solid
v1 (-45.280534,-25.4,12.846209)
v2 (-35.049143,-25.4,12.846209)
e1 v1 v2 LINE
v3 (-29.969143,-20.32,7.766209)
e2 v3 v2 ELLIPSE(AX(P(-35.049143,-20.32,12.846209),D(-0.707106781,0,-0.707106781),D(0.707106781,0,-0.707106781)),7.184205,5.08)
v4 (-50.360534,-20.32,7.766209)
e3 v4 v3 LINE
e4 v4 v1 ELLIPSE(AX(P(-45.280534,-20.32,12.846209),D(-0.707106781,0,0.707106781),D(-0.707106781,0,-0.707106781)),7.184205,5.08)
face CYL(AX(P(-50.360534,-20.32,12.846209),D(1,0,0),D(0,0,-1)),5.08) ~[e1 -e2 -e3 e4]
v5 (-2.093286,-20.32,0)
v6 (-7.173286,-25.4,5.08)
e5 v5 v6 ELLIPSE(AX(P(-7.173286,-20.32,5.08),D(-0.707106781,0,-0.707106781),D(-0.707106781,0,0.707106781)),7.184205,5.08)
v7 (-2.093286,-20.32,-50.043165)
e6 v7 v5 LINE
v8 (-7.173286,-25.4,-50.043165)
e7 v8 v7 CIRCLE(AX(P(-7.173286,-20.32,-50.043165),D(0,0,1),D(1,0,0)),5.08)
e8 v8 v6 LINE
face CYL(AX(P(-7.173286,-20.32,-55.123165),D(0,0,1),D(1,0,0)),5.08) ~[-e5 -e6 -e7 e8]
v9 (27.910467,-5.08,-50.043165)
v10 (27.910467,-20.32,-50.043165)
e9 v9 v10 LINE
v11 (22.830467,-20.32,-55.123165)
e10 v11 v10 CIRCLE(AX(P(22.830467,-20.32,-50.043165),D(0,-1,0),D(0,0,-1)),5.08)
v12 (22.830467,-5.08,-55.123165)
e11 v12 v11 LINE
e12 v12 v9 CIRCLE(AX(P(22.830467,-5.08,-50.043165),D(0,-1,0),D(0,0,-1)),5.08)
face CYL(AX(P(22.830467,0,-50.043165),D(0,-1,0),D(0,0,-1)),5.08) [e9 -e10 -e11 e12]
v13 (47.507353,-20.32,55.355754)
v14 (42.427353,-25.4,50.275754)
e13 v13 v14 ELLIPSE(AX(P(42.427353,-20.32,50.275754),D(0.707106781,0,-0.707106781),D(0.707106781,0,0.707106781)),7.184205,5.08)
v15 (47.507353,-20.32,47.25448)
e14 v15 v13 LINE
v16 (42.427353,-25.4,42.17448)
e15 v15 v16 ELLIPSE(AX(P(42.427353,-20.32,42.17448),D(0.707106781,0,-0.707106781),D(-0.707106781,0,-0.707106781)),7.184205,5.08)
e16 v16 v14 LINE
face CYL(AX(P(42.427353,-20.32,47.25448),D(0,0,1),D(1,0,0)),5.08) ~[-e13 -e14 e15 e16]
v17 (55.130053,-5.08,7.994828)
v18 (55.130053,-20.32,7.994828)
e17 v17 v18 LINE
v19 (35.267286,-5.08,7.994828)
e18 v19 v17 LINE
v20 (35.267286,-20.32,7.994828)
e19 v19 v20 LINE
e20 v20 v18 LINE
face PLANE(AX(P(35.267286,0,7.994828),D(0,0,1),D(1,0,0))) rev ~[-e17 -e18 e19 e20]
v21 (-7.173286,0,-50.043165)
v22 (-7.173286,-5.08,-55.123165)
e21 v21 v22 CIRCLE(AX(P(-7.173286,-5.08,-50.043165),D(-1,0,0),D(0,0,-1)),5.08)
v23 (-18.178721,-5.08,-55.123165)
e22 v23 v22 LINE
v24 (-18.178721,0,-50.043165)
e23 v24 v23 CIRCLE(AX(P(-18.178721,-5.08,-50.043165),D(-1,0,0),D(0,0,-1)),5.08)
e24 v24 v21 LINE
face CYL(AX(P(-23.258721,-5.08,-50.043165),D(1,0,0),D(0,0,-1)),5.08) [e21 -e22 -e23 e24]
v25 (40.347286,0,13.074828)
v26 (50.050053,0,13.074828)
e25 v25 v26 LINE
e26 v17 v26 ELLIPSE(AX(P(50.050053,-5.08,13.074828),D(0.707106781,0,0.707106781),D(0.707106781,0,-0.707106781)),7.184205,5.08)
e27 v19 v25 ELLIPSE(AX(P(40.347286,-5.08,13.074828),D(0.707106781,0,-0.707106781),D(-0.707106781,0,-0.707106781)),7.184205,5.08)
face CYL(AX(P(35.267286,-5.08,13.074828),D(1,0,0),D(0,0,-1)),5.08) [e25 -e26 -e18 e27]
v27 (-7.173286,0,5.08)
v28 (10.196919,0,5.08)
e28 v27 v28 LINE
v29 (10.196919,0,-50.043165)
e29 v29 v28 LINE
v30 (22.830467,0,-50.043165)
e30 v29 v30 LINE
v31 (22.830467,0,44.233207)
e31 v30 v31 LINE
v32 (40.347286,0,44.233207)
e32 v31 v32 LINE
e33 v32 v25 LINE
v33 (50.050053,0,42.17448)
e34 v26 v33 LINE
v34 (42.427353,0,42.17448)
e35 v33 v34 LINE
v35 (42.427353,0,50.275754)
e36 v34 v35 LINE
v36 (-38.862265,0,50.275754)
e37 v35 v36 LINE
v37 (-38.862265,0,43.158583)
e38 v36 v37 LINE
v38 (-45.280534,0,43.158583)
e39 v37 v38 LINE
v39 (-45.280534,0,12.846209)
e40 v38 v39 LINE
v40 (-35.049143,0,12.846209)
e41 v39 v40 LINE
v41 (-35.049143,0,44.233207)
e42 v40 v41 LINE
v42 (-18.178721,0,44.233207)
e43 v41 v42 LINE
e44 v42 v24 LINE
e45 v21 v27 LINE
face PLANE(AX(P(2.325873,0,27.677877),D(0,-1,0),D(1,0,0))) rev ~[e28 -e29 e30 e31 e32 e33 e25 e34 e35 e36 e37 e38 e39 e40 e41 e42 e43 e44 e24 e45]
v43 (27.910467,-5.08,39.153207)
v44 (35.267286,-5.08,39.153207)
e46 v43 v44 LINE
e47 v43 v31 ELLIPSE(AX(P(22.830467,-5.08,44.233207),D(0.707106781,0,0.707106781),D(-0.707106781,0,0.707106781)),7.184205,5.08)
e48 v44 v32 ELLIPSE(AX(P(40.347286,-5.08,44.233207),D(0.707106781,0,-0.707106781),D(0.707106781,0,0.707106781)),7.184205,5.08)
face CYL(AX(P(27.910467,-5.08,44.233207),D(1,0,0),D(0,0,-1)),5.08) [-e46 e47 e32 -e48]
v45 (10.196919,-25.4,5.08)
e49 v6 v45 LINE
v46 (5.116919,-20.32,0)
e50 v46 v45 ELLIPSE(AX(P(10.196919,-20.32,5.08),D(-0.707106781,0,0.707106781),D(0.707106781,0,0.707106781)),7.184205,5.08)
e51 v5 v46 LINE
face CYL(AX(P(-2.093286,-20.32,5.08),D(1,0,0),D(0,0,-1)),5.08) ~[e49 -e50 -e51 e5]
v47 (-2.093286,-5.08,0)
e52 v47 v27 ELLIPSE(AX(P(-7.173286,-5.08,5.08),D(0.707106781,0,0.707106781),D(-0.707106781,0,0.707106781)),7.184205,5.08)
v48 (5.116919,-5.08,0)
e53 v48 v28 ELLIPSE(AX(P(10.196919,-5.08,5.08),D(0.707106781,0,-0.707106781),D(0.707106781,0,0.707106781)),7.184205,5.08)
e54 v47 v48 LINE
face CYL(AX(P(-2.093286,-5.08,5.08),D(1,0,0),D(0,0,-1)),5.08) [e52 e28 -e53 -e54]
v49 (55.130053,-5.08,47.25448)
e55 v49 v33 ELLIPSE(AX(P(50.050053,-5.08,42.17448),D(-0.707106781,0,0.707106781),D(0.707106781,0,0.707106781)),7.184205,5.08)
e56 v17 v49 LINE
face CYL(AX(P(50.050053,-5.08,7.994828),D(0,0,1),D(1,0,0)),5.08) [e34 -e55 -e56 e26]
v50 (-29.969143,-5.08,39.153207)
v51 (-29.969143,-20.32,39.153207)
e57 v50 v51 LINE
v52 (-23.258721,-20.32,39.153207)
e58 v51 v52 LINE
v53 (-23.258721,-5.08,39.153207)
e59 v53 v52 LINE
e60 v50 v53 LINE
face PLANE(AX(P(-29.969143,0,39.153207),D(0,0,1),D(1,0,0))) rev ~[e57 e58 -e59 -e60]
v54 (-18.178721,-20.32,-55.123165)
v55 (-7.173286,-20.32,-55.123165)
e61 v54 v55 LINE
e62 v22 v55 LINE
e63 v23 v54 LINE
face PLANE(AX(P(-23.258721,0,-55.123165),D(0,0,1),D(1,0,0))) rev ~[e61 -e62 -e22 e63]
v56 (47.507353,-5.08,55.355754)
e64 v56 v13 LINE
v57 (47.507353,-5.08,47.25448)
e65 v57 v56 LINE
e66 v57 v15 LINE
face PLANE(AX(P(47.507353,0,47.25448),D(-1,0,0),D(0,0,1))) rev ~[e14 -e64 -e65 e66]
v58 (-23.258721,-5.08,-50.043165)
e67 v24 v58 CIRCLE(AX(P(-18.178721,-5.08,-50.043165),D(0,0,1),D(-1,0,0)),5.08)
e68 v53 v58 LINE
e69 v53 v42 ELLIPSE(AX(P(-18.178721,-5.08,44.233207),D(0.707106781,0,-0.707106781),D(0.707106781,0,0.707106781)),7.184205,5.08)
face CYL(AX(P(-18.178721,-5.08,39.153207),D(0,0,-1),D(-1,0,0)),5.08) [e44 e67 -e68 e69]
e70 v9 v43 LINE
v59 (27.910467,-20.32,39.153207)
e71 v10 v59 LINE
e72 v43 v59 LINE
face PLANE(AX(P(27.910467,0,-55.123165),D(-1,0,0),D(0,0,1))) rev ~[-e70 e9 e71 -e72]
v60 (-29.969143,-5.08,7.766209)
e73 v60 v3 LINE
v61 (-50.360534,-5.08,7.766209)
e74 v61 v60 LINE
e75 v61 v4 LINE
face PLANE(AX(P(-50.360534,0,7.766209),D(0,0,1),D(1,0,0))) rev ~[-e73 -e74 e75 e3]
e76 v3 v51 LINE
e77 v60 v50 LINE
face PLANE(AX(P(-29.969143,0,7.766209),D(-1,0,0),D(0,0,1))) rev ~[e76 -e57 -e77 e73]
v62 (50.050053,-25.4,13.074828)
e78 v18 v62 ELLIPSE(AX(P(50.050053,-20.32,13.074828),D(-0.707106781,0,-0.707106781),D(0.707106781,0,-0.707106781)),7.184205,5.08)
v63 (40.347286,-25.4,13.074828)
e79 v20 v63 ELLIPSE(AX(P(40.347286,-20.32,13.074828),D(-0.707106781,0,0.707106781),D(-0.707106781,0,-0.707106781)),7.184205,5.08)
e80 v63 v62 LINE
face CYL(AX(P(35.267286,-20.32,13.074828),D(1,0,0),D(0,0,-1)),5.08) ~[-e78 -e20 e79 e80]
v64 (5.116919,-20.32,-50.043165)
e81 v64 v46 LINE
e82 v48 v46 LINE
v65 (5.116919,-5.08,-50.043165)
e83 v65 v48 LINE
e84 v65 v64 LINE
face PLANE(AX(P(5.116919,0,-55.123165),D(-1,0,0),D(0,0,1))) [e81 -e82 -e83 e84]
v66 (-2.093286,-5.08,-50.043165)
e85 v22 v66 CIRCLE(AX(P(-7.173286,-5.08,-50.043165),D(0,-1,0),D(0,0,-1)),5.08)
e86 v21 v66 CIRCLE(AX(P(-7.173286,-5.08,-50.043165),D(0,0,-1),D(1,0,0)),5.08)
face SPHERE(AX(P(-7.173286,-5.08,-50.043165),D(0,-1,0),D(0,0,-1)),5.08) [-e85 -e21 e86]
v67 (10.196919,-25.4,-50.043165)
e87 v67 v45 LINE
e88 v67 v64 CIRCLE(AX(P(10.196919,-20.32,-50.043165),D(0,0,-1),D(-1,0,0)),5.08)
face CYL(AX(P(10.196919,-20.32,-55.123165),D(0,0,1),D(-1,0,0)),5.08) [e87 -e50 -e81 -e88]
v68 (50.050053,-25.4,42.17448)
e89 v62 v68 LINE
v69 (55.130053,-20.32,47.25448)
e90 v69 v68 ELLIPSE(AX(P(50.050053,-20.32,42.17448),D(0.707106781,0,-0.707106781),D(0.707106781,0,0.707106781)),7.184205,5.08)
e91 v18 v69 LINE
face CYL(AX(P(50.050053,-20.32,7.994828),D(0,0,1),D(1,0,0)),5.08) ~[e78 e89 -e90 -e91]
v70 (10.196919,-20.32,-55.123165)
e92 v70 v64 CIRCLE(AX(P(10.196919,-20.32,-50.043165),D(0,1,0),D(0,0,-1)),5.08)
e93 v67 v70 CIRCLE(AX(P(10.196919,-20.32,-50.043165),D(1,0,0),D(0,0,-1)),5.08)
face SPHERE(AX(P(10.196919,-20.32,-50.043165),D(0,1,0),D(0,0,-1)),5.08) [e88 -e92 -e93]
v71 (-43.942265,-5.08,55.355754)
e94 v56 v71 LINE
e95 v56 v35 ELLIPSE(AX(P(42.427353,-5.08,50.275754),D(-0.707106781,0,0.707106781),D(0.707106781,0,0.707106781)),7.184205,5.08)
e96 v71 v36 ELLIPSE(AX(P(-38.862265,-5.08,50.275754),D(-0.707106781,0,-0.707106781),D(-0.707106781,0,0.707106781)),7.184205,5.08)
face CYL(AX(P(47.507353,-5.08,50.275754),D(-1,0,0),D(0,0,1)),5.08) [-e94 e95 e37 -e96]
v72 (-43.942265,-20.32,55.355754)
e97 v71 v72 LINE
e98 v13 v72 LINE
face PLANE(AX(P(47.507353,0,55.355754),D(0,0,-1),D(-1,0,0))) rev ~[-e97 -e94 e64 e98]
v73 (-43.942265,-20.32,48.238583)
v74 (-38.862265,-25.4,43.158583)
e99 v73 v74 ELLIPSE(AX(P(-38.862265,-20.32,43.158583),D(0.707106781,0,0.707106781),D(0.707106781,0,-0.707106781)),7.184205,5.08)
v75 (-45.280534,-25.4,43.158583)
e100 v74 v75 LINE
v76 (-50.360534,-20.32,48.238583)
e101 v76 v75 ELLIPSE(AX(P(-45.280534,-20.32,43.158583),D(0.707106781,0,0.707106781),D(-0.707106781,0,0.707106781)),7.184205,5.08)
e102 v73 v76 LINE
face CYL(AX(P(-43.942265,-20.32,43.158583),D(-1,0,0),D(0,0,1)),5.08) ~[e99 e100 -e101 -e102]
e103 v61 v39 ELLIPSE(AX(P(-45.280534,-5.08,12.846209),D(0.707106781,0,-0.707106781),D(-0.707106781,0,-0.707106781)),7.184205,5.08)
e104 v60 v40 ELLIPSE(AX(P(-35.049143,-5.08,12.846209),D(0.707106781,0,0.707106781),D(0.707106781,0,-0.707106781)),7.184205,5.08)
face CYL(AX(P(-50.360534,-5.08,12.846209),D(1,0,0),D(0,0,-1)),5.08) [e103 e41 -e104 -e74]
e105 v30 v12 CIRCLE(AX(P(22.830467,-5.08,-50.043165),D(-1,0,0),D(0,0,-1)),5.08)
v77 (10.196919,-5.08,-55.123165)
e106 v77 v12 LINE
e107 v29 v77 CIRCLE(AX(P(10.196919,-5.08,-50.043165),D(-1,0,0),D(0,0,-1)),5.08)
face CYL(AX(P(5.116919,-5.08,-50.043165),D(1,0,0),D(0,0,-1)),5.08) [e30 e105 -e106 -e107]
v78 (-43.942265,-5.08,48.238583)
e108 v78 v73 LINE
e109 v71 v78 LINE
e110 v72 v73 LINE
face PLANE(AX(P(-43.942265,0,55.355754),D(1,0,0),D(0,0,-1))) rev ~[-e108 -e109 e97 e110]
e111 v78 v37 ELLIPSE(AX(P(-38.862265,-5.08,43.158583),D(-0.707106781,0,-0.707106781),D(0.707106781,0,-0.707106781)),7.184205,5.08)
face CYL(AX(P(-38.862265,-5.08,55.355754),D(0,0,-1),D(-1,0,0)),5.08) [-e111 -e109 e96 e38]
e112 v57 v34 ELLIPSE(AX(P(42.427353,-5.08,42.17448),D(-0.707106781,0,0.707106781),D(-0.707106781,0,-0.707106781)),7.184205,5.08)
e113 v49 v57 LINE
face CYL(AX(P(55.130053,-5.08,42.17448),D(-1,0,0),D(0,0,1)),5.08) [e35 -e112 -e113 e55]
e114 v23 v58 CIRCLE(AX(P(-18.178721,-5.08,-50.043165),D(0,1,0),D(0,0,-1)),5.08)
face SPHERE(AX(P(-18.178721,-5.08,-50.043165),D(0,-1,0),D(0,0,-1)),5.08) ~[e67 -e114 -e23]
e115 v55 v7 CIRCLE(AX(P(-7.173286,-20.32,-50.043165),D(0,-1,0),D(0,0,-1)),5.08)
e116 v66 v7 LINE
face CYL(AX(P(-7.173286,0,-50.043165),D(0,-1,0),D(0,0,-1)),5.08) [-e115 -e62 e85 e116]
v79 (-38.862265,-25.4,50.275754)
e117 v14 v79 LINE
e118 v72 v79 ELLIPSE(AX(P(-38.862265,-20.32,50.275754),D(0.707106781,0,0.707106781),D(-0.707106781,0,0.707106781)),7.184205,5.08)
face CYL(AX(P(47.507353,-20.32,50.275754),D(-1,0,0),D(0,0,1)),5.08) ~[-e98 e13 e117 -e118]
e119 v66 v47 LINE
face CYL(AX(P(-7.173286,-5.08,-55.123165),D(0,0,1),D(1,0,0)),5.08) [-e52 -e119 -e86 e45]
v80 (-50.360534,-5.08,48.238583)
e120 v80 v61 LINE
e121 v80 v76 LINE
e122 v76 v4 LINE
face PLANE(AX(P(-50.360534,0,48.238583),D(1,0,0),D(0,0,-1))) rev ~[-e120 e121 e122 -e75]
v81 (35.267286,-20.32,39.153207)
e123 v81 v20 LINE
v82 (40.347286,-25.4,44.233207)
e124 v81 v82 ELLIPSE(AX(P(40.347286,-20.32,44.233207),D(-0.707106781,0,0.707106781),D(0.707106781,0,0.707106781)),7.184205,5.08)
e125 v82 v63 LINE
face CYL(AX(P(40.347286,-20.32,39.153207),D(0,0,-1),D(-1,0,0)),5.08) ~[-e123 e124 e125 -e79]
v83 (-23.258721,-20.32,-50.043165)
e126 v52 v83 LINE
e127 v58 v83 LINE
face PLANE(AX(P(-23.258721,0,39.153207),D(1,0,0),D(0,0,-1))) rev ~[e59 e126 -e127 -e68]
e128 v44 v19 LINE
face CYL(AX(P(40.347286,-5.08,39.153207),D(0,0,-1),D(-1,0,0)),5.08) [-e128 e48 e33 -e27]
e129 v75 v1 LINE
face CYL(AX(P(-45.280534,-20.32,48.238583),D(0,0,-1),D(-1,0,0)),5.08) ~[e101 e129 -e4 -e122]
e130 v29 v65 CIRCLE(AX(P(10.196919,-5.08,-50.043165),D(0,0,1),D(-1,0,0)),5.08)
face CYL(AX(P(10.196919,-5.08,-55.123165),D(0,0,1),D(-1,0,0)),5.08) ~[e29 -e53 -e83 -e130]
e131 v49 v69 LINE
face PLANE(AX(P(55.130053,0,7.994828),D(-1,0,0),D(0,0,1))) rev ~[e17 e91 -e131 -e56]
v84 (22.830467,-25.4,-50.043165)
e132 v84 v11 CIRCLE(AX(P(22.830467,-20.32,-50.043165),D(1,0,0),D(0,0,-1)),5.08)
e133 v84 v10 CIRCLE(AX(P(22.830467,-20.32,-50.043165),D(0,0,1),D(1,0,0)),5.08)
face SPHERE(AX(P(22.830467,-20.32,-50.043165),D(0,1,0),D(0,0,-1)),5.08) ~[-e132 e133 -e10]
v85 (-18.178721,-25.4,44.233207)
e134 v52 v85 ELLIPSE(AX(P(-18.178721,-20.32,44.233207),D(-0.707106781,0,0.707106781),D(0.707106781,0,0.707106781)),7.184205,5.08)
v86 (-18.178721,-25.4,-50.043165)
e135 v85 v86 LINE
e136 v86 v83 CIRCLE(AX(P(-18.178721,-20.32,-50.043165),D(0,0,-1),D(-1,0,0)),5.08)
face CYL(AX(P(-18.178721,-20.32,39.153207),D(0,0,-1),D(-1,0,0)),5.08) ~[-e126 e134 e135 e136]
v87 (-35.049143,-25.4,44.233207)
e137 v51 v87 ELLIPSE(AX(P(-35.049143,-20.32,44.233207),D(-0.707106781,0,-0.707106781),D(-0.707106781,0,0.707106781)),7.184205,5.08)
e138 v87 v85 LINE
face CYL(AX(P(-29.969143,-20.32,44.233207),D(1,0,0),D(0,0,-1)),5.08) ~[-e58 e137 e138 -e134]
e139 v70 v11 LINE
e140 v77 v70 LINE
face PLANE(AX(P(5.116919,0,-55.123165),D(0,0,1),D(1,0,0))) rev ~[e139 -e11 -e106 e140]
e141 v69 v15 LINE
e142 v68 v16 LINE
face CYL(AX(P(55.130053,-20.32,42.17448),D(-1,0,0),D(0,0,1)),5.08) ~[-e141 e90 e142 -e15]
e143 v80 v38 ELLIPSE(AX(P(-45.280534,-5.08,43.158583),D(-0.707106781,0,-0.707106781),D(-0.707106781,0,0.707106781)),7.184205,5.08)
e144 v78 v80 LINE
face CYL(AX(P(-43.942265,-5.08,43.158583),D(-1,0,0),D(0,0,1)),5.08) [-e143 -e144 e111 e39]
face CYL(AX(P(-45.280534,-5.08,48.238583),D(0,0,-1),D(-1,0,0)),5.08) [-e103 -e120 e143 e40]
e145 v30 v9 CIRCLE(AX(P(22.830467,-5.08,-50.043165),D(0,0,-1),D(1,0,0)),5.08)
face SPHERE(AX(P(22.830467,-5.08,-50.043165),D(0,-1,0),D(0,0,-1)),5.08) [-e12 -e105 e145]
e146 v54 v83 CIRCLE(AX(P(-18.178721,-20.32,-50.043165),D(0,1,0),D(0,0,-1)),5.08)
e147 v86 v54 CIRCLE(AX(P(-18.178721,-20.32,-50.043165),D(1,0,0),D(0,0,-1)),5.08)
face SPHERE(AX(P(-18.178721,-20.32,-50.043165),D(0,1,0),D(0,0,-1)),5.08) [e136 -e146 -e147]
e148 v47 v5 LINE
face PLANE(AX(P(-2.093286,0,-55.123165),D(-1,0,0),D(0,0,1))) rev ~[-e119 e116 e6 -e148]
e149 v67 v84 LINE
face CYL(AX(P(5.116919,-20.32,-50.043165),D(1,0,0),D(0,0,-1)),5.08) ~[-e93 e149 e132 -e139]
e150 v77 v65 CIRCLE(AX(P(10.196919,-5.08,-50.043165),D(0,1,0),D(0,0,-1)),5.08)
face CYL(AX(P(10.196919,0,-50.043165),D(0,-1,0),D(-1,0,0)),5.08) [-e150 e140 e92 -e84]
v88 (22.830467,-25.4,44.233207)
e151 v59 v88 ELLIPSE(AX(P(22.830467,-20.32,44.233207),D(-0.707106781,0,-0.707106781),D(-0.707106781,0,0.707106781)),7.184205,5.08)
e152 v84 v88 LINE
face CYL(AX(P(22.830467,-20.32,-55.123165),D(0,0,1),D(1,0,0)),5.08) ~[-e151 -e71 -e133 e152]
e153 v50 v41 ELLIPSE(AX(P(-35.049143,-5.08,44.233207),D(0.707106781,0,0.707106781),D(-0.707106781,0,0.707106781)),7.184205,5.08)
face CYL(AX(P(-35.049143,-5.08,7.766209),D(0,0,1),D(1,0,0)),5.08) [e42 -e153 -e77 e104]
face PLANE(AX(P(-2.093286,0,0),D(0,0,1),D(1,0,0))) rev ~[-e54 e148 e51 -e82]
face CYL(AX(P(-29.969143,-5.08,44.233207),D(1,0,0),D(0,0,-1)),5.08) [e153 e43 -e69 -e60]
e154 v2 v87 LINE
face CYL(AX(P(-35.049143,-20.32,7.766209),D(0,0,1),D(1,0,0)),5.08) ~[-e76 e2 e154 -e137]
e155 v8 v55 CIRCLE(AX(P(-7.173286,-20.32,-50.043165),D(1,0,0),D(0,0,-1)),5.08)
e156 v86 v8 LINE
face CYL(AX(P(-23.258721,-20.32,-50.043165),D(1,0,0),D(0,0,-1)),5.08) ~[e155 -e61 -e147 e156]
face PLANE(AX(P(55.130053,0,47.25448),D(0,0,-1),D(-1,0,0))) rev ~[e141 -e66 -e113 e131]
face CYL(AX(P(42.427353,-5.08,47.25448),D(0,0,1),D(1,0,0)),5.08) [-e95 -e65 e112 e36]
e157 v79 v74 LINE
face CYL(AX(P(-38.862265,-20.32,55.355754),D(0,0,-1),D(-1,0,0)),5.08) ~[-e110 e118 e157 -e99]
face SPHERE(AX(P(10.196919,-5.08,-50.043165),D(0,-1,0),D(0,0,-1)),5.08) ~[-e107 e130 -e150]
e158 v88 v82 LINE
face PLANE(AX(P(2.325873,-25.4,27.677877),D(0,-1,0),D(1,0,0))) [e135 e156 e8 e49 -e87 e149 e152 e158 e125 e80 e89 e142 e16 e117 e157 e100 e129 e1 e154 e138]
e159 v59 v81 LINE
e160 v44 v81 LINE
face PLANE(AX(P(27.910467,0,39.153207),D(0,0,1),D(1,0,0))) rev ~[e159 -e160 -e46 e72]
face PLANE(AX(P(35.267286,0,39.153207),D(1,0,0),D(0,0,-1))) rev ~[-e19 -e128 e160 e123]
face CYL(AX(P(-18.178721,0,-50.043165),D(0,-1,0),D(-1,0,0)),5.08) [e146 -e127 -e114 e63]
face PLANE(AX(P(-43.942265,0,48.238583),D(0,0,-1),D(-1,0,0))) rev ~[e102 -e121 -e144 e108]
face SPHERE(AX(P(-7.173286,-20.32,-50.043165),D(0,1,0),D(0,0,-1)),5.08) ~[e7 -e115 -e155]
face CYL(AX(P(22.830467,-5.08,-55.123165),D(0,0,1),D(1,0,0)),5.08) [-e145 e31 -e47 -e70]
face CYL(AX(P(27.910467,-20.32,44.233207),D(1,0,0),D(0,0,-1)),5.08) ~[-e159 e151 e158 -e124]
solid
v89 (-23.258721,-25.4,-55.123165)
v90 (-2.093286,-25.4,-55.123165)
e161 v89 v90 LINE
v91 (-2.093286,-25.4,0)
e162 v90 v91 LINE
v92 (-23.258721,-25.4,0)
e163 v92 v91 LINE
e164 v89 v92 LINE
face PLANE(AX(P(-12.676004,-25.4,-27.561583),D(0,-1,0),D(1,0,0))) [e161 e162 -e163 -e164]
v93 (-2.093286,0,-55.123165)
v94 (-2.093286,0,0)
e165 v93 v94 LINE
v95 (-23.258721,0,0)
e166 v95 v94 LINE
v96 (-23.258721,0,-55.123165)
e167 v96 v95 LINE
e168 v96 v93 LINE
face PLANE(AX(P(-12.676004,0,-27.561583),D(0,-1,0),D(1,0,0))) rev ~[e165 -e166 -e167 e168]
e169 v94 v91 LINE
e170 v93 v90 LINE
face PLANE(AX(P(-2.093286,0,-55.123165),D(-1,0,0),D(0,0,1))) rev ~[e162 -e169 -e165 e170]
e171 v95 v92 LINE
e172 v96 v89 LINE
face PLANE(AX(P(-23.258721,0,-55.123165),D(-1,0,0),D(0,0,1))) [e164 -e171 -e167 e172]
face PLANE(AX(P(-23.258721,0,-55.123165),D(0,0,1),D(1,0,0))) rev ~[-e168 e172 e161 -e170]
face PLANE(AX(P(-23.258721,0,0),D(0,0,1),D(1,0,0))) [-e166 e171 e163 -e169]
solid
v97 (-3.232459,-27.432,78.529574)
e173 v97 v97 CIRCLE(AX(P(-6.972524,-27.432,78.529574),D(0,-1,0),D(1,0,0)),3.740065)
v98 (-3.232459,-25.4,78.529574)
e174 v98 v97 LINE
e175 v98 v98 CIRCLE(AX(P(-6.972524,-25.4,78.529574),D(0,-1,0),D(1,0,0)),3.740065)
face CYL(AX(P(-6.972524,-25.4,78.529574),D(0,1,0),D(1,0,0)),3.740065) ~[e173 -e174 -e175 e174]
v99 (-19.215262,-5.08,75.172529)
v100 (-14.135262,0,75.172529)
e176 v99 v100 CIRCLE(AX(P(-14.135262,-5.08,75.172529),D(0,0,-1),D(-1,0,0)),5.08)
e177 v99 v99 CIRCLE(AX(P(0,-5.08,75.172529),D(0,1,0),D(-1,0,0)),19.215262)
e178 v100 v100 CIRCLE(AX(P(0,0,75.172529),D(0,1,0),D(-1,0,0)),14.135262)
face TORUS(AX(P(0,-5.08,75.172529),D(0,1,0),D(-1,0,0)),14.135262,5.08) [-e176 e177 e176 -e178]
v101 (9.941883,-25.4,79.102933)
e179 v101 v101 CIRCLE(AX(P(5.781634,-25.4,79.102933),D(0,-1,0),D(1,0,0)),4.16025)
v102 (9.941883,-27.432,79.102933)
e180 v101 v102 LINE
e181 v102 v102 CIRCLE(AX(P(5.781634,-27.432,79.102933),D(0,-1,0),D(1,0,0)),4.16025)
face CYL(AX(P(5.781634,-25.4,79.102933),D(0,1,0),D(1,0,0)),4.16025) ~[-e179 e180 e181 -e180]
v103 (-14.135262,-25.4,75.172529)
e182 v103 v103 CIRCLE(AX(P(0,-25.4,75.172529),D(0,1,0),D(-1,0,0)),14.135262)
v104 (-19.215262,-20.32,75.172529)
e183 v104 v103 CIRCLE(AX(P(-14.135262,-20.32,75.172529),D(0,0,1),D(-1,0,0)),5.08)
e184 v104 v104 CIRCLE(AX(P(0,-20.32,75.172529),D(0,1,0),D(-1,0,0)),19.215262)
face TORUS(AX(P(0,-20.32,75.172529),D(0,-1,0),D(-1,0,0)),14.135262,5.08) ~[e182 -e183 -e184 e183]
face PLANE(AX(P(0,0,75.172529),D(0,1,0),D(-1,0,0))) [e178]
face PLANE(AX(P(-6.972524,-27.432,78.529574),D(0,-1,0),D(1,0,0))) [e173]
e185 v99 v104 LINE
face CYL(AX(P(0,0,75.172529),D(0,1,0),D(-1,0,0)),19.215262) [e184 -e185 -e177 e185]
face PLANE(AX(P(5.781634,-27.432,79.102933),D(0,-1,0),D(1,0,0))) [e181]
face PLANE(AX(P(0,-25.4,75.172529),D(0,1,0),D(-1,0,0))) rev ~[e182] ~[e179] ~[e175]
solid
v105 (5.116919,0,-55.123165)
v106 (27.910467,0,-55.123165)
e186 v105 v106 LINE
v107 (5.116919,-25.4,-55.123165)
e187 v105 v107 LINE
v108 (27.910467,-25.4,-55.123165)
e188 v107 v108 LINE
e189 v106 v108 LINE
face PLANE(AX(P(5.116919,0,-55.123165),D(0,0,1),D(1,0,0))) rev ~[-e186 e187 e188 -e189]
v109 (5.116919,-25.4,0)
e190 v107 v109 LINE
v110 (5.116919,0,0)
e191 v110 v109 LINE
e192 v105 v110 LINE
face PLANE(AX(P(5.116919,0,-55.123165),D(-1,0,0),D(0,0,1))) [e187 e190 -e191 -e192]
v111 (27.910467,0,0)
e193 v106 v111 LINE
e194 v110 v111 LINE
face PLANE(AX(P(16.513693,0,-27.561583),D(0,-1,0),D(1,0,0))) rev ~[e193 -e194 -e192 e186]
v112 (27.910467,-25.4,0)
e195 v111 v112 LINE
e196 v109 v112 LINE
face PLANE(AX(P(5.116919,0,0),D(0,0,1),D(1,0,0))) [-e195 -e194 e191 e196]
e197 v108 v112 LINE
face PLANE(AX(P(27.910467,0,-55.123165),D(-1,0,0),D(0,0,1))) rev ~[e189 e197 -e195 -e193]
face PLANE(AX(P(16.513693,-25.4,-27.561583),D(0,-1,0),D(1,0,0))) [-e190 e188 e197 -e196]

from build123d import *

# Parameters (mm, degrees)
F0_W     = 21.1654354353
F0_H     = 55.1231652498
F1_DEPTH = 25.4
F0_W_2   = 22.7935481817
F0_W_3   = 13.9731224626
F0_H_2   = 9.0853758156
F0_W_4   = 12.2400671244
F0_H_3   = 8.1012733281
F2_DEPTH = 25.4
F3_R     = 5.08
F4_R     = 19.2152622129
F5_DEPTH = 25.4
F6_R     = 5.08
F7_R     = 3.7400653386
F7_R_2   = 4.1602495274
F8_DEPTH = 2.032


with BuildPart() as f1:
    # F0 (on Front) → F1 (new body)
    with BuildSketch(Plane.XZ):
        with Locations((-12.6760037383, -27.5615826249)):
            Rectangle(F0_W, F0_H)
    extrude(amount=F1_DEPTH)


with BuildPart() as f1b:
    # F0 (on Front) → F1, piece 2 (new body)
    with BuildSketch(Plane.XZ):
        with Locations((16.5136931464, -27.5615826249)):
            Rectangle(F0_W_2, F0_H)
    extrude(amount=F1_DEPTH)


with BuildPart() as f2:
    # F0 (on Front) → F2 (new body)
    with BuildSketch(Plane.XZ):
        Polygon((-23.2587214559, 39.1532070935), (-23.2587214559, 0), (-2.0932860207, 0), (5.1169190556, 0), (27.9104672372, 0), (27.9104672372, 39.1532070935), (27.9104672372, 55.3557537496), (-23.2587214559, 55.3557537496), align=None)
        with Locations((-12.6760037383, -27.5615826249)):
            Rectangle(F0_W, F0_H)
        Polygon((-29.9691427499, 39.1532070935), (-23.2587214559, 39.1532070935), (-23.2587214559, 55.3557537496), (-43.9422652125, 55.3557537496), (-43.9422652125, 48.2385829091), (-29.9691427499, 48.2385829091), align=None)
        with Locations((16.5136931464, -27.5615826249)):
            Rectangle(F0_W_2, F0_H)
        Polygon((-29.9691427499, 7.7662086114), (-29.9691427499, 39.1532070935), (-43.9422652125, 39.1532070935), (-43.9422652125, 48.2385829091), (-50.3605343401, 48.2385829091), (-50.3605343401, 7.7662086114), align=None)
        with Locations((-36.9557039812, 43.6958950013)):
            Rectangle(F0_W_3, F0_H_2)
        Polygon((47.507353127, 55.3557537496), (27.9104672372, 55.3557537496), (27.9104672372, 39.1532070935), (35.2672860026, 39.1532070935), (35.2672860026, 47.2544804215), (47.507353127, 47.2544804215), align=None)
        with Locations((41.3873195648, 43.2038437575)):
            Rectangle(F0_W_4, F0_H_3)
        Polygon((47.507353127, 39.1532070935), (35.2672860026, 39.1532070935), (35.2672860026, 7.9948278144), (55.1300533116, 7.9948278144), (55.1300533116, 47.2544804215), (47.507353127, 47.2544804215), align=None)
    extrude(amount=F2_DEPTH)

    # F3
    f3_edges = [f2.edges().sort_by_distance(p)[0] for p in [
        (5.116919, -12.7, -55.123165),
        (27.910467, -12.7, -55.123165),
        (16.513693, 0, -55.123165),
        (16.513693, -25.4, -55.123165),
        (-23.258721, -12.7, -55.123165),
        (-2.093286, -12.7, -55.123165),
        (-12.676004, 0, -55.123165),
        (-12.676004, -25.4, -55.123165),
        (-2.093286, 0, -27.561583),
        (1.511817, 0, 0),
        (5.116919, 0, -27.561583),
        (27.910467, 0, -7.984979),
        (31.588877, 0, 39.153207),
        (35.267286, 0, 23.574017),
        (45.19867, 0, 7.994828),
        (55.130053, 0, 27.624654),
        (51.318703, 0, 47.25448),
        (47.507353, 0, 51.305117),
        (1.782544, 0, 55.355754),
        (-43.942265, 0, 51.797168),
        (-47.1514, 0, 48.238583),
        (-50.360534, 0, 28.002396),
        (-40.164839, 0, 7.766209),
        (-29.969143, 0, 23.459708),
        (-26.613932, 0, 39.153207),
        (-23.258721, 0, -7.984979),
        (-2.093286, -25.4, -27.561583),
        (1.511817, -25.4, 0),
        (5.116919, -25.4, -27.561583),
        (27.910467, -25.4, -7.984979),
        (31.588877, -25.4, 39.153207),
        (35.267286, -25.4, 23.574017),
        (45.19867, -25.4, 7.994828),
        (55.130053, -25.4, 27.624654),
        (51.318703, -25.4, 47.25448),
        (47.507353, -25.4, 51.305117),
        (1.782544, -25.4, 55.355754),
        (-43.942265, -25.4, 51.797168),
        (-47.1514, -25.4, 48.238583),
        (-50.360534, -25.4, 28.002396),
        (-40.164839, -25.4, 7.766209),
        (-29.969143, -25.4, 23.459708),
        (-26.613932, -25.4, 39.153207),
        (-23.258721, -25.4, -7.984979),
    ]]
    fillet(f3_edges, radius=F3_R)


with BuildPart() as f5:
    # F4 (on face) → F5 (new body)
    with BuildSketch(Plane(origin=(0, 0, 0), x_dir=(-1, 0, 0), z_dir=(0, 1, 0))):
        with Locations((0, 75.1725286245)):
            Circle(F4_R)
    extrude(amount=-F5_DEPTH)

    # F6
    f6_edges = [f5.edges().sort_by_distance(p)[0] for p in [
        (19.215262, -25.4, 75.172529),
        (19.215262, 0, 75.172529),
        (-19.215262, -12.7, 75.172529),
    ]]
    fillet(f6_edges, radius=F6_R)

    # F7 (on face) → F8 (join)
    with BuildSketch(Plane.XZ.offset(25.4)):
        with Locations((-6.9725243375, 78.529573977)):
            Circle(F7_R)
        with Locations((5.7816337794, 79.1029334068)):
            Circle(F7_R_2)
    extrude(amount=F8_DEPTH)


solid = Compound([f1.part, f1b.part, f2.part, f5.part])
